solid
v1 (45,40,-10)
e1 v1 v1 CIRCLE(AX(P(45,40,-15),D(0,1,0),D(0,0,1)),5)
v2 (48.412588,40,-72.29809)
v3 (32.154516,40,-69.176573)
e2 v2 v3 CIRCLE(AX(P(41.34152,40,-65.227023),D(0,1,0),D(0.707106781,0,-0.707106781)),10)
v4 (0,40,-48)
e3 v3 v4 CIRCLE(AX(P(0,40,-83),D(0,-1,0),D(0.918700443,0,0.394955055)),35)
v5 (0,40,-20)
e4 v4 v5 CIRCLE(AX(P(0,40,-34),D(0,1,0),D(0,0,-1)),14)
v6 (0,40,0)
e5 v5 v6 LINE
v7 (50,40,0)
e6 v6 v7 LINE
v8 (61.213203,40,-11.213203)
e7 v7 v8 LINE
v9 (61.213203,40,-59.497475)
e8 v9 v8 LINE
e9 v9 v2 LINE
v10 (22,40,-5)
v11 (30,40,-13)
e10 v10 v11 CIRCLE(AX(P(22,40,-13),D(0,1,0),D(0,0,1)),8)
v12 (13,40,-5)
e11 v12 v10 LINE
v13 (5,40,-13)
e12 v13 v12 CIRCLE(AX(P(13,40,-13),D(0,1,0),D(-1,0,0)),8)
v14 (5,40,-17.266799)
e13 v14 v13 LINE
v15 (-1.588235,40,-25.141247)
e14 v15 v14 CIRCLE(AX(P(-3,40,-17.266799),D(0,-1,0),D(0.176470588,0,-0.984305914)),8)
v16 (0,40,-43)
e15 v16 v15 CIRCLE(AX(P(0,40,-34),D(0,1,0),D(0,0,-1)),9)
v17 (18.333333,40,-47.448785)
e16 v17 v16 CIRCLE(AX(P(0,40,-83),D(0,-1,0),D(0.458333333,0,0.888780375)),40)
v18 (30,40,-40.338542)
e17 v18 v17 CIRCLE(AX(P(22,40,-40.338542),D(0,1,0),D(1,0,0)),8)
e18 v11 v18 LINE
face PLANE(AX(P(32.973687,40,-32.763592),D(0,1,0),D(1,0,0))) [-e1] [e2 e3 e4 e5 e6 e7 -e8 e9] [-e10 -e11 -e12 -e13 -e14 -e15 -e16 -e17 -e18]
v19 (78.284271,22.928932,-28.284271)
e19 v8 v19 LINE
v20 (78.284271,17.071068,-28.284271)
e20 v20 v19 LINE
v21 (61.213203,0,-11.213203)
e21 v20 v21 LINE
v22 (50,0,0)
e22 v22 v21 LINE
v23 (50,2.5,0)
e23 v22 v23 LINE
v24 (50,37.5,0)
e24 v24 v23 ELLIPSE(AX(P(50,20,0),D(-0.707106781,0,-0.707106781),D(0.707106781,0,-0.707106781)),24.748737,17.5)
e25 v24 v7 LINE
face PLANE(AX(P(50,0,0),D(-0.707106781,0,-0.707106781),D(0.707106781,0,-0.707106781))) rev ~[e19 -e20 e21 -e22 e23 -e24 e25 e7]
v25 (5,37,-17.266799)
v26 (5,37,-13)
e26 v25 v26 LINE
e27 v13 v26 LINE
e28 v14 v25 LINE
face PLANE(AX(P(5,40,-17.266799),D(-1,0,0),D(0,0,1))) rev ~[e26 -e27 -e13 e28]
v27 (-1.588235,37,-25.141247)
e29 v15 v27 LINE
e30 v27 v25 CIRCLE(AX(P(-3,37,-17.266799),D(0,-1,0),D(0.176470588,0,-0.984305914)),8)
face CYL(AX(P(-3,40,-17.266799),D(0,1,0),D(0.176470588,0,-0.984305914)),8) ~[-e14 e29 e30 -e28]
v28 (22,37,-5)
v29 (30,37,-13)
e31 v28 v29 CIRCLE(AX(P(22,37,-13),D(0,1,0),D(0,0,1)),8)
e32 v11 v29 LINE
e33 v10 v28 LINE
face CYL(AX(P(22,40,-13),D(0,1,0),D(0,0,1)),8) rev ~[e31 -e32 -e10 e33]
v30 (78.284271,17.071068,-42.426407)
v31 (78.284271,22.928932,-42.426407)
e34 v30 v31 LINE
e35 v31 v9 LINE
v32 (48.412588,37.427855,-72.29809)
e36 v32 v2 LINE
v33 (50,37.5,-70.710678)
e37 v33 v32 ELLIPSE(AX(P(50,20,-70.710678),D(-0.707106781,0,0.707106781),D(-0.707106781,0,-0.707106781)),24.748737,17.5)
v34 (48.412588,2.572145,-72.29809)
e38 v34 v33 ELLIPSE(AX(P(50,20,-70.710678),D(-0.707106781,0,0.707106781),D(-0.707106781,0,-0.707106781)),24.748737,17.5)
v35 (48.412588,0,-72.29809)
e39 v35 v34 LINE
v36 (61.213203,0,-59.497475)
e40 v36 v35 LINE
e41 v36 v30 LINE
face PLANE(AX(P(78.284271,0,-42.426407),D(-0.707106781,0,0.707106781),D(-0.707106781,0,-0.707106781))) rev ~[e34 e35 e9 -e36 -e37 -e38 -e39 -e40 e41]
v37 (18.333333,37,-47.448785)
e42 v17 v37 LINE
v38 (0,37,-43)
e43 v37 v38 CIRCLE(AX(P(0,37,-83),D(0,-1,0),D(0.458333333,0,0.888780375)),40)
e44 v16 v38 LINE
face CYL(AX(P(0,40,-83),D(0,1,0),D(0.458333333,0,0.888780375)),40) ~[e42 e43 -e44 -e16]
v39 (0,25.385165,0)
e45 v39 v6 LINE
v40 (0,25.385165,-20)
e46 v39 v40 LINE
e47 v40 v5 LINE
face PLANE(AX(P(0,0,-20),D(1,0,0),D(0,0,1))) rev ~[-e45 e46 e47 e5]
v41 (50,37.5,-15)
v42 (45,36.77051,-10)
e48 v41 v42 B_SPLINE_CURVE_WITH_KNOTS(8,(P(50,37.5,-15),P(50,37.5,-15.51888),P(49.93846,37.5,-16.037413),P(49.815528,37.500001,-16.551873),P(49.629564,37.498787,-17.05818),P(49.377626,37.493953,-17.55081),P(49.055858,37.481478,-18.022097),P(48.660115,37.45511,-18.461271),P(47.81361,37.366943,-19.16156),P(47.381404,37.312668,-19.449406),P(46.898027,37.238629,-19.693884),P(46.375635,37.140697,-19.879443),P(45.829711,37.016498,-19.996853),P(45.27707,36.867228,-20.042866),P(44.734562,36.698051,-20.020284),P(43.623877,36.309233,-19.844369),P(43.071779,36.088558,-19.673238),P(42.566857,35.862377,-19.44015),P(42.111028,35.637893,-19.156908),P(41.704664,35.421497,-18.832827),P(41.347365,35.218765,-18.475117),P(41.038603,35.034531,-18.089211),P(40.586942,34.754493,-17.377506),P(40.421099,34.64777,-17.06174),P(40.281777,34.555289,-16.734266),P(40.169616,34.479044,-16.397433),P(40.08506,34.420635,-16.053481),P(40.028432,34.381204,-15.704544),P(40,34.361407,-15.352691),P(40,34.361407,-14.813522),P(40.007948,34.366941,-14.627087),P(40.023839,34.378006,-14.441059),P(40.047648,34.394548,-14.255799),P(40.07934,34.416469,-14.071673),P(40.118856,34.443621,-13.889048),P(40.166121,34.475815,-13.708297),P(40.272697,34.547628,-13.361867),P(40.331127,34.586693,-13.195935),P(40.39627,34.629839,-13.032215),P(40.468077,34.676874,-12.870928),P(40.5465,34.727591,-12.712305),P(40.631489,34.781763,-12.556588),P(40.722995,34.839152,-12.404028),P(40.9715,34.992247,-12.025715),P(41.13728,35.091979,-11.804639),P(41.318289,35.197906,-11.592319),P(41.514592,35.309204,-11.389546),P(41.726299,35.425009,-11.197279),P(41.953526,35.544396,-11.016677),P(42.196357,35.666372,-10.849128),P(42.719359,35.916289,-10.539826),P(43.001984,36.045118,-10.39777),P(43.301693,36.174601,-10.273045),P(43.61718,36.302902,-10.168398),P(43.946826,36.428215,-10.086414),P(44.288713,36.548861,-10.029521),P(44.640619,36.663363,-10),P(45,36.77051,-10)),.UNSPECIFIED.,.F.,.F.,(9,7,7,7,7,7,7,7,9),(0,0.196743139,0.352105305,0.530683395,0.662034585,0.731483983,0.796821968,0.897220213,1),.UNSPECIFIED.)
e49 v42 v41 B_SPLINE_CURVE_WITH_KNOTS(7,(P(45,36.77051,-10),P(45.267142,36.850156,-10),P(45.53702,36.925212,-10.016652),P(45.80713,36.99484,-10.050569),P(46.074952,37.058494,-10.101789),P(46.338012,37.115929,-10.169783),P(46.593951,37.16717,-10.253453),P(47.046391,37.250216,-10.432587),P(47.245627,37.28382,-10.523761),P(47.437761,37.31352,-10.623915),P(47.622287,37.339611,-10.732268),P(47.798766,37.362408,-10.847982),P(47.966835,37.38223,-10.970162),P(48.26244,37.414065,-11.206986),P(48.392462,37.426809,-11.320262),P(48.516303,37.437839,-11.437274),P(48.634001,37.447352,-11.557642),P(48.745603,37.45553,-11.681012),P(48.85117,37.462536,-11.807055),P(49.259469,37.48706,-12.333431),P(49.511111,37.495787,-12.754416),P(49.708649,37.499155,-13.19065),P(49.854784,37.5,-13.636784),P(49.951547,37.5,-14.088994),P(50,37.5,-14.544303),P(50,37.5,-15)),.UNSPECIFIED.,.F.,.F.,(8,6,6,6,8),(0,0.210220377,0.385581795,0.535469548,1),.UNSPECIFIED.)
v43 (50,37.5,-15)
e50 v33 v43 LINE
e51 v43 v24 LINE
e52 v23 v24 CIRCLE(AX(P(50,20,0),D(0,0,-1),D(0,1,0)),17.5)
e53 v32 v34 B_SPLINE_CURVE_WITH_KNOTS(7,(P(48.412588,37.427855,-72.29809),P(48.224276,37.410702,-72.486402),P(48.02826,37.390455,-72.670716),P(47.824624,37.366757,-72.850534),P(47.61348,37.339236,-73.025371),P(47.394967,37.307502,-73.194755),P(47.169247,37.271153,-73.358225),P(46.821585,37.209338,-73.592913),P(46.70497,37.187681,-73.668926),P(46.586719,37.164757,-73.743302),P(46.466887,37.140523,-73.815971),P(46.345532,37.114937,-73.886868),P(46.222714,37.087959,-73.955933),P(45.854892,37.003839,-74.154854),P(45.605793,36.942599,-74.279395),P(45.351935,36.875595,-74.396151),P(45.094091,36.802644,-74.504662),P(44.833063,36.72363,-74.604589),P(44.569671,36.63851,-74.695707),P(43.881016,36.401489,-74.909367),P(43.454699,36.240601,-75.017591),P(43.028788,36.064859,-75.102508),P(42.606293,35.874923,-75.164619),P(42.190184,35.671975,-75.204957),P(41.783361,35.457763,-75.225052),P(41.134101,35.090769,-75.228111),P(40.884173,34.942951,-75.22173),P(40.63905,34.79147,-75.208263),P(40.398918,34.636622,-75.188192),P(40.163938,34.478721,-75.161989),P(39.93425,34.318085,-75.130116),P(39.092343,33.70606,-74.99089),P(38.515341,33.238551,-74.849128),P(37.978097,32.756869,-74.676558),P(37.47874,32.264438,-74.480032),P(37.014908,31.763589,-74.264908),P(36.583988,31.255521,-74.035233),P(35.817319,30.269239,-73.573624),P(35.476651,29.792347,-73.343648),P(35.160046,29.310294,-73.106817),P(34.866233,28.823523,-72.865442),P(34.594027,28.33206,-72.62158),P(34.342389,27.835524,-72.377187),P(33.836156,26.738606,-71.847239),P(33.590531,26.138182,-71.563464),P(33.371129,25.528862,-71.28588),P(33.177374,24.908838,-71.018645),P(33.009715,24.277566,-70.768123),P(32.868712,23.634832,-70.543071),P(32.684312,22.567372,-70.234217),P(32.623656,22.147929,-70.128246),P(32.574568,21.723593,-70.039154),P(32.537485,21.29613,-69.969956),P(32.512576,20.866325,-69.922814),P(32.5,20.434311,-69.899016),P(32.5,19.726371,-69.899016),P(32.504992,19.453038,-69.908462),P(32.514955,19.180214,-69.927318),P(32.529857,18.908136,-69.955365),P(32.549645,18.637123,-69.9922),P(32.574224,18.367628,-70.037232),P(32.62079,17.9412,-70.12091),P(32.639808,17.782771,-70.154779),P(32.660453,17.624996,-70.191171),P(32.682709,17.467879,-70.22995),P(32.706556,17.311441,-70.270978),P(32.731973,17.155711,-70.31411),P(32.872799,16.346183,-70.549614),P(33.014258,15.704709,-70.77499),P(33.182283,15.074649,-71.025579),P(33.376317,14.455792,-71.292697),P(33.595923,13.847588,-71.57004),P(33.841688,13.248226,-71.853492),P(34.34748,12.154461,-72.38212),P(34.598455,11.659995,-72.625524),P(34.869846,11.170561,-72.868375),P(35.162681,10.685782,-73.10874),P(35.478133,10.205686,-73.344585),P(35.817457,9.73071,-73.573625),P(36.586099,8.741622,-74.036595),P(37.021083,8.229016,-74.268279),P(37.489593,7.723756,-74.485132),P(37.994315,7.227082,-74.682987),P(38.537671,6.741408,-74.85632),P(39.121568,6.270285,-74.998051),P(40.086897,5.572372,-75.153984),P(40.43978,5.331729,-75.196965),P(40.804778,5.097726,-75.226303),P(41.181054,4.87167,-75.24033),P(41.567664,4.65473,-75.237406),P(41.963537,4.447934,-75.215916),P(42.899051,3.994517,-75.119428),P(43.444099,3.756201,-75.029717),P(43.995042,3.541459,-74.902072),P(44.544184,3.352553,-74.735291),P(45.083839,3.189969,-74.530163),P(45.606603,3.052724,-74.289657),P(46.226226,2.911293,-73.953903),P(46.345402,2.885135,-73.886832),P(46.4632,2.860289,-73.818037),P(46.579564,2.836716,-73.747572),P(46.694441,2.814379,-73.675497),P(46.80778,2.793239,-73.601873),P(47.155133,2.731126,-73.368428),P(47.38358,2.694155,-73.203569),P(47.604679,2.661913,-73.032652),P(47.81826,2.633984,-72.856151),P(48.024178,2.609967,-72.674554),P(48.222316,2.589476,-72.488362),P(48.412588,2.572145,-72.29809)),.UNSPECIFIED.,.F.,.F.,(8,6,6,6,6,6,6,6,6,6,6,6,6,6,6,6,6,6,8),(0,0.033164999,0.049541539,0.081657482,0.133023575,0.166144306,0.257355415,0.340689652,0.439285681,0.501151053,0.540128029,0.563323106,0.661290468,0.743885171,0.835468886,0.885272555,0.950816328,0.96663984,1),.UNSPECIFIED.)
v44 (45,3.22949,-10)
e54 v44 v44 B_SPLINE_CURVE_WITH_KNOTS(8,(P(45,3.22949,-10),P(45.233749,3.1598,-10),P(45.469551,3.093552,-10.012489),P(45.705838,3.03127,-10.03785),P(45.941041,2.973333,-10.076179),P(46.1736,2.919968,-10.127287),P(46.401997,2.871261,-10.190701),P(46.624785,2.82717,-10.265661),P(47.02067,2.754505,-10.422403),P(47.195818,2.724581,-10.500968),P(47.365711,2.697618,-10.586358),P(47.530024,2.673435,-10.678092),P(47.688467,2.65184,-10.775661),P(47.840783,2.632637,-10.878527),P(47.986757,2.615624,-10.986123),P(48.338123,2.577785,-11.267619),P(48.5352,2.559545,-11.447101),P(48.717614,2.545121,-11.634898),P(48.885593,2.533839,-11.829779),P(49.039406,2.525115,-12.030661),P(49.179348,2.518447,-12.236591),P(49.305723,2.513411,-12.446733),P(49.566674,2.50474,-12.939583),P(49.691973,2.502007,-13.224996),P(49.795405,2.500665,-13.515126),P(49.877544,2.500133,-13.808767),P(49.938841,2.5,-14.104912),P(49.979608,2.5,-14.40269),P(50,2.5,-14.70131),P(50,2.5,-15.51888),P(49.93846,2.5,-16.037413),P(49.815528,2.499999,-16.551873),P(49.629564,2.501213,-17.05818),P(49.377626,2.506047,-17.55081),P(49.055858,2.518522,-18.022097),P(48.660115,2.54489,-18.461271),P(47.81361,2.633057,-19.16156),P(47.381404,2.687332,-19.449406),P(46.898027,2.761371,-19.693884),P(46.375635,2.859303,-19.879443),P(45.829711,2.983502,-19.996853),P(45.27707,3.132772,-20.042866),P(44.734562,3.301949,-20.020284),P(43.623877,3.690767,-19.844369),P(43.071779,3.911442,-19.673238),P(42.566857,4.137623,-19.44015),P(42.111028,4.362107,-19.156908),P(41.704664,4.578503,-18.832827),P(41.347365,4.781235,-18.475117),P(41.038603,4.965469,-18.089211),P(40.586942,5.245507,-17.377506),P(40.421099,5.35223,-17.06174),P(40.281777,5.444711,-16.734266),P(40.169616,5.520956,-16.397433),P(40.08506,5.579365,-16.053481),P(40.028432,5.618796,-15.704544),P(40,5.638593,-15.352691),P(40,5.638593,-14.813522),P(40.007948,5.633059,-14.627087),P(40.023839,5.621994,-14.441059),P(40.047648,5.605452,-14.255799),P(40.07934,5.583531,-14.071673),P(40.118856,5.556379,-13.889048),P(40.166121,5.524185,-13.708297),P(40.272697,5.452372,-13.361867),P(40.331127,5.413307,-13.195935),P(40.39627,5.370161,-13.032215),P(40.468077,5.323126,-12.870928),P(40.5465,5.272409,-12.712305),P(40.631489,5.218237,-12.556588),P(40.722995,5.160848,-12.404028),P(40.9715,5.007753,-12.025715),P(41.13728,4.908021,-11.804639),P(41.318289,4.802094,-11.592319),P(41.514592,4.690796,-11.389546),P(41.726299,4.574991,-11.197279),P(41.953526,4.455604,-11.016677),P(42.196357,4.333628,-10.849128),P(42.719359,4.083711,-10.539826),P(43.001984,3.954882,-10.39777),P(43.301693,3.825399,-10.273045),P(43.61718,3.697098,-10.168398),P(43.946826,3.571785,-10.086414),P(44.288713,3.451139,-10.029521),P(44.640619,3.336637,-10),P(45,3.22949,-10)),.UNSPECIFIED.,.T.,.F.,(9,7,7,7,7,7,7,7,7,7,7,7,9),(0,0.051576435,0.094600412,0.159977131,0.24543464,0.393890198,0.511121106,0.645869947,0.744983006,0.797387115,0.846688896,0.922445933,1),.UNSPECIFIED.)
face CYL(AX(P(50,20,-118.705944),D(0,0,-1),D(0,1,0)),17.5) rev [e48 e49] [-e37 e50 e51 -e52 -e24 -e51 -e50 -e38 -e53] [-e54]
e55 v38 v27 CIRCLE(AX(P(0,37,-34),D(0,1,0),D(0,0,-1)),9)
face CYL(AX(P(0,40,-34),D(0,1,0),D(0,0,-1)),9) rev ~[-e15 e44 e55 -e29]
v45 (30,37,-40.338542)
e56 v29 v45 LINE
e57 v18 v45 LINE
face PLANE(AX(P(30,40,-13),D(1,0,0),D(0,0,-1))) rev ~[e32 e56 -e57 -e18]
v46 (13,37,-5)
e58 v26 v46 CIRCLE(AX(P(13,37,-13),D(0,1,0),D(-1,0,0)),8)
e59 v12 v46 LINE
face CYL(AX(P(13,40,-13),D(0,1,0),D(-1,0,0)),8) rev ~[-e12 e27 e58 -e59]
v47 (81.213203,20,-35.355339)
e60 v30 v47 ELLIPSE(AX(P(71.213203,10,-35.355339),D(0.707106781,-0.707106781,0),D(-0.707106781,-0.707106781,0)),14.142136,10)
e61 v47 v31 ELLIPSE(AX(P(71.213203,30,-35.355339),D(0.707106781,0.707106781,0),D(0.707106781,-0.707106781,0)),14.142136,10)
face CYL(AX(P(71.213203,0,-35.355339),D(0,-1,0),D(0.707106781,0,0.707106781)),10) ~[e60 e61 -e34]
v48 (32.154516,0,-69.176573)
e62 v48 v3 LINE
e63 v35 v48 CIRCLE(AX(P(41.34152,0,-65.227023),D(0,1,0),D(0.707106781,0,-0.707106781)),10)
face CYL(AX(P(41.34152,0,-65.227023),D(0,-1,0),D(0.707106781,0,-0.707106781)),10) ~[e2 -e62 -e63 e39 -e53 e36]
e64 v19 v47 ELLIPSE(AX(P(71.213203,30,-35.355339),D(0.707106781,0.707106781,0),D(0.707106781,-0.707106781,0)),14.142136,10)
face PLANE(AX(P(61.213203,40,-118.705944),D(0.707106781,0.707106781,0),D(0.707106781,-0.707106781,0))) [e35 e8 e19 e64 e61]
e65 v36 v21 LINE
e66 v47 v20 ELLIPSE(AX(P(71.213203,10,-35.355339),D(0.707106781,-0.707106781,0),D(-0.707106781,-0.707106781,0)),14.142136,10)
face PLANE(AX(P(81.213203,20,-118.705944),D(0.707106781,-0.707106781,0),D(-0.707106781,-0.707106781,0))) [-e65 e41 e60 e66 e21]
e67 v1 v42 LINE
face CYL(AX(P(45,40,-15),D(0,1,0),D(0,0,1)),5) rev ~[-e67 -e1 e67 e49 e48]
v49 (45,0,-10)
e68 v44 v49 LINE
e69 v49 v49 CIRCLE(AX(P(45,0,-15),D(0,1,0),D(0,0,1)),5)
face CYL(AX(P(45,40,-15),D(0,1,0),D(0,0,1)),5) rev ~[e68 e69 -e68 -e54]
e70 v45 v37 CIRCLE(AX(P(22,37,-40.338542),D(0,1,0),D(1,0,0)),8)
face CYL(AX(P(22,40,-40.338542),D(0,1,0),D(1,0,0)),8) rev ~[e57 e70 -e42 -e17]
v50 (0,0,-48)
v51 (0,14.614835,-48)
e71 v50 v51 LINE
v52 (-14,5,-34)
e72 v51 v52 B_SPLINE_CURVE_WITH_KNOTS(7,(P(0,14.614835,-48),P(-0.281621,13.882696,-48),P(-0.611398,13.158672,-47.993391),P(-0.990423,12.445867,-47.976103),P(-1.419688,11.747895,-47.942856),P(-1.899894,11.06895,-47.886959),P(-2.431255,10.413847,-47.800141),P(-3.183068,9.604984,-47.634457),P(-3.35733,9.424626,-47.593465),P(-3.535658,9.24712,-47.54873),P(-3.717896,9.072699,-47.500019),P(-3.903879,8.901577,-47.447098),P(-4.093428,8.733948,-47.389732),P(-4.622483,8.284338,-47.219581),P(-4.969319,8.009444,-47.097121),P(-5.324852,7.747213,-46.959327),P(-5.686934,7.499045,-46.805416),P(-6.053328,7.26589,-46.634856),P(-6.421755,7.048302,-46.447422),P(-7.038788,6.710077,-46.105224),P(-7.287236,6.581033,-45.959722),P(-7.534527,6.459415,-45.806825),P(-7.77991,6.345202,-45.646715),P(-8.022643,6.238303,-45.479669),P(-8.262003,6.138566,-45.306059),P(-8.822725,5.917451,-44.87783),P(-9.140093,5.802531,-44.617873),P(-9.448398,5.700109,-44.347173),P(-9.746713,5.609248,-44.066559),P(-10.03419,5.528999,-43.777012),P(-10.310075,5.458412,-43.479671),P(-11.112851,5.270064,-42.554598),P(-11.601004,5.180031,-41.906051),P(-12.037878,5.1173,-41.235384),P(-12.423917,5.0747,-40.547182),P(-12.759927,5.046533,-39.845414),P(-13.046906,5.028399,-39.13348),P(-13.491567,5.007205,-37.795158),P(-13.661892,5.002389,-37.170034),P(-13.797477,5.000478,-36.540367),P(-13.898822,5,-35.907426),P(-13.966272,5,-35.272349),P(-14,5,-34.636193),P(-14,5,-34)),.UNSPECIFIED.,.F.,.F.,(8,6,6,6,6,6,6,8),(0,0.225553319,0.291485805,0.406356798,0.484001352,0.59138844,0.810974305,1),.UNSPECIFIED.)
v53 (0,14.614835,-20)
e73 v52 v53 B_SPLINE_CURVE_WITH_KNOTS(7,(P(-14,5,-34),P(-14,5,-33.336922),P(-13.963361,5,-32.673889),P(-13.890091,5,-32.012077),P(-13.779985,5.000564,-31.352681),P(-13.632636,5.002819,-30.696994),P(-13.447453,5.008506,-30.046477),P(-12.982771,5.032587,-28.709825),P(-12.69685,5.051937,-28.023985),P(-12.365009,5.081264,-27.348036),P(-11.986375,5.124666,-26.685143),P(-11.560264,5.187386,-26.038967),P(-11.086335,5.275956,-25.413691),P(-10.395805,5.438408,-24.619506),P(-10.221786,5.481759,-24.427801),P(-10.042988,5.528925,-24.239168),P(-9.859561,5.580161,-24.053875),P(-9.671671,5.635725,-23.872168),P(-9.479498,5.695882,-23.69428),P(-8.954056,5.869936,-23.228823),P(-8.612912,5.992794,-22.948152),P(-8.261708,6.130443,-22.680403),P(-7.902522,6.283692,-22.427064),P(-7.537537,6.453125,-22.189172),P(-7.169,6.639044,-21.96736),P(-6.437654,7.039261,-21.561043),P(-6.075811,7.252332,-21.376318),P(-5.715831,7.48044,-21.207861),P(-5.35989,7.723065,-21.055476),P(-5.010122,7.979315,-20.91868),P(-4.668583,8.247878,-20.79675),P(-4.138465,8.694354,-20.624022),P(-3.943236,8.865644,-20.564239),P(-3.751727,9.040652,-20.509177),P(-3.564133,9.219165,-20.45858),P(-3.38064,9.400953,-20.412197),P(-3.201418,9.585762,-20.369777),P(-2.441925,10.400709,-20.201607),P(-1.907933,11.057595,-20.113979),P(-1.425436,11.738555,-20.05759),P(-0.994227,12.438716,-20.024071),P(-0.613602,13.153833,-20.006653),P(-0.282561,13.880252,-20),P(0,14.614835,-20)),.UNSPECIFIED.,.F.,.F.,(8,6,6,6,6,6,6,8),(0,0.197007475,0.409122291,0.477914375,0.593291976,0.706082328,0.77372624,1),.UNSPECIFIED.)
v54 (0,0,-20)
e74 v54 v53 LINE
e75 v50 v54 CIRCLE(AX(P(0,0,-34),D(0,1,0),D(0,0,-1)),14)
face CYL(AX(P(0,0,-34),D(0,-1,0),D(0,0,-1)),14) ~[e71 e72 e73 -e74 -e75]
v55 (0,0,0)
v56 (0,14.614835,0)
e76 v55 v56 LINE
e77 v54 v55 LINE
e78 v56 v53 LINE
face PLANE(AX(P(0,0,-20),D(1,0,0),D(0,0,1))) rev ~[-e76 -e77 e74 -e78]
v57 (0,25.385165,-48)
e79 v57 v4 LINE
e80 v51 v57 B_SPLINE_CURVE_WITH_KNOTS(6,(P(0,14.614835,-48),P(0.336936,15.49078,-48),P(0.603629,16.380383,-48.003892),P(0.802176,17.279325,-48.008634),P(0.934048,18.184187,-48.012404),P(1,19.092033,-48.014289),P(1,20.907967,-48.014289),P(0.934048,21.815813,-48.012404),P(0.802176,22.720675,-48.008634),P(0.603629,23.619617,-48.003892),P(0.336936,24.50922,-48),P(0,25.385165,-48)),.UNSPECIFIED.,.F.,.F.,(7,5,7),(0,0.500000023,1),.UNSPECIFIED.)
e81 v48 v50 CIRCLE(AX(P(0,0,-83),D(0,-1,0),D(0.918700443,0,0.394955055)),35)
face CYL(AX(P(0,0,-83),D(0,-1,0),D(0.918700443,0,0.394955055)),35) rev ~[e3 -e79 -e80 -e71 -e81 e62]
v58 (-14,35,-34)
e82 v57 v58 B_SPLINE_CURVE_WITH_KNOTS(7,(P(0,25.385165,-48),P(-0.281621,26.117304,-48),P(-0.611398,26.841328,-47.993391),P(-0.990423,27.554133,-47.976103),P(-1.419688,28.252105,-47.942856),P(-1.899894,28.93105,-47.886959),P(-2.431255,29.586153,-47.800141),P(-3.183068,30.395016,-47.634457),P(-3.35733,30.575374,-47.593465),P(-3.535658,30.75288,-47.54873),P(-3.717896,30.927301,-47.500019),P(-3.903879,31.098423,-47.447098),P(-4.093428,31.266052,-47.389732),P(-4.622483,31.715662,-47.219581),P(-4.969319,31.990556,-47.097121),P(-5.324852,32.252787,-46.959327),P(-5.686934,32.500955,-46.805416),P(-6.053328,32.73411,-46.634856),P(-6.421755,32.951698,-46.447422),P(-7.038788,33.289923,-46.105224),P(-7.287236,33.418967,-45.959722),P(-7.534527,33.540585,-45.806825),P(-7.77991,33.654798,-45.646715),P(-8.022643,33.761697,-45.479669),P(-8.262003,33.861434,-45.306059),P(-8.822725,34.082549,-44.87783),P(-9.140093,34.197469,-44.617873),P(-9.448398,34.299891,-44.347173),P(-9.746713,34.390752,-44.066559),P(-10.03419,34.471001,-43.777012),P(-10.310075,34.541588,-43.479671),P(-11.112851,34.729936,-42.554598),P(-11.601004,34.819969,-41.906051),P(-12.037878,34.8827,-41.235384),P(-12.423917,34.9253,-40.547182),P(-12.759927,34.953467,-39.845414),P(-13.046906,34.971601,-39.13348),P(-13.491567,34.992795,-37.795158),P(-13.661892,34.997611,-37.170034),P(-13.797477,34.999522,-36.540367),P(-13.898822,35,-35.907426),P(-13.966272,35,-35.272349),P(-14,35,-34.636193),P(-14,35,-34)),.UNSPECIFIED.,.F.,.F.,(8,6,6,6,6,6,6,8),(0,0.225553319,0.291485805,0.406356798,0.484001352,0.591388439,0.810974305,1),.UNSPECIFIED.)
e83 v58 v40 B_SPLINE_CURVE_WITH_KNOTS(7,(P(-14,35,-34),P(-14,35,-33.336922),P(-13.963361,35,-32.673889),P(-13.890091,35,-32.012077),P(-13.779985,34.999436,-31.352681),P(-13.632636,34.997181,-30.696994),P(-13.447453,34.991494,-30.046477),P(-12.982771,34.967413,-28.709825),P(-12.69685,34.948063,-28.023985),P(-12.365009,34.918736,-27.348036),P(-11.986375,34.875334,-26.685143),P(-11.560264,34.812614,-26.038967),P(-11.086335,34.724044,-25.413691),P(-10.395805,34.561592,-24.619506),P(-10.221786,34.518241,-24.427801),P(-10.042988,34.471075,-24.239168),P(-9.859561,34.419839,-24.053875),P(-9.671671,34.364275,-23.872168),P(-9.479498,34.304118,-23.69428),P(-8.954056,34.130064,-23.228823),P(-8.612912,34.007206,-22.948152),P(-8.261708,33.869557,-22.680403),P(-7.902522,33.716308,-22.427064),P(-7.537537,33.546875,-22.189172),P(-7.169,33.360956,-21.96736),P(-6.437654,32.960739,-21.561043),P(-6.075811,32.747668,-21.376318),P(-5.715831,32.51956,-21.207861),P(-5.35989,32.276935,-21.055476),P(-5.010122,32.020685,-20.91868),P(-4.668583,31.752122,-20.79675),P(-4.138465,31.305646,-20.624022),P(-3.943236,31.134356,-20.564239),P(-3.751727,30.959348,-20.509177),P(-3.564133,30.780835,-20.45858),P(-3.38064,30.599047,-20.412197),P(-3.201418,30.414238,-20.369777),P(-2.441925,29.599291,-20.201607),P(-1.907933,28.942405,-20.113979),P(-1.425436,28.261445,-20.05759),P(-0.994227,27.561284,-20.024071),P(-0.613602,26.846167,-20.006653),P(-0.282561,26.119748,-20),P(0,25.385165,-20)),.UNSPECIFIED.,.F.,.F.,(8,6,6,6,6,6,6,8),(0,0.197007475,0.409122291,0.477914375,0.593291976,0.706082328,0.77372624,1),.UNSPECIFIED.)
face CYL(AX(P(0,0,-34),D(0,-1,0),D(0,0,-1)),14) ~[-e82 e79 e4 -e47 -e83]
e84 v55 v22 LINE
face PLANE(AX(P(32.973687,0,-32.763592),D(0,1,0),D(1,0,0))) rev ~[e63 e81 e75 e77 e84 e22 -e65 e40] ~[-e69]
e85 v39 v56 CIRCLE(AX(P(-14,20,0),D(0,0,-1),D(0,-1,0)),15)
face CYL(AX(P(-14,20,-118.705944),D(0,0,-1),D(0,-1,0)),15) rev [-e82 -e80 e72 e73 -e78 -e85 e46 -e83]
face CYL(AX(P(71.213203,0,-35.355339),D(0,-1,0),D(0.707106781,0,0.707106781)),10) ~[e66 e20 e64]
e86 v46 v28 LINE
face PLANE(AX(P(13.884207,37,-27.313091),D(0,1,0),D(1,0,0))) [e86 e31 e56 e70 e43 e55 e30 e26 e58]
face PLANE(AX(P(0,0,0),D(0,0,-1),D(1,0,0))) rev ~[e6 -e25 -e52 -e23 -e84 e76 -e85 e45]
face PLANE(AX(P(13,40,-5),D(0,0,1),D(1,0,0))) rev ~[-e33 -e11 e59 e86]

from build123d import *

# Parameters (mm, degrees)
BOSS_EXTRUDE1_DEPTH     = 40
CUT_EXTRUDE1_DEPTH      = 3
CUT_EXTRUDE2_DEPTH      = 118.705944338
CUT_EXTRUDE2_DEPTH_BACK = 118.705944338
SKETCH3_R               = 17.5
SKETCH4_R               = 5
CUT_EXTRUDE4_DEPTH      = 118.705944436
CUT_EXTRUDE6_DEPTH      = 118.705944436
CUT_EXTRUDE6_DEPTH_BACK = 118.705944436


with BuildPart() as part:
    # Sketch1 → Boss-Extrude1 (new body)
    with BuildSketch(Plane(origin=(0, 0, 0), x_dir=(1, 0, 0), z_dir=(0, 1, 0))):
        with BuildLine():
            Line((0, 0), (50, 0))
            Line((50, 0), (78.284271247, 28.284271247))
            ThreePointArc((78.284271247, 28.284271247), (81.213203436, 35.355339059), (78.284271247, 42.426406871))
            Line((78.284271247, 42.426406871), (48.412587767, 72.298090352))
            ThreePointArc((48.412587767, 72.298090352), (39.455979063, 75.047650602), (32.154515521, 69.176573087))
            ThreePointArc((32.154515521, 69.176573087), (19.250715026, 53.76970799), (0, 48))
            ThreePointArc((0, 48), (-14, 34), (0, 20))
            Line((0, 20), (0, 0))
        make_face()
    extrude(amount=BOSS_EXTRUDE1_DEPTH)

    # Sketch2 → Cut-Extrude1 (cut)
    with BuildSketch(Plane(origin=(0, 40, 0), x_dir=(1, 0, 0), z_dir=(0, 1, 0))):
        with BuildLine():
            Line((30, 13), (30, 40.338541985))
            ThreePointArc((30, 40.338541985), (26.163331999, 47.169842495), (18.333333333, 47.448784987))
            ThreePointArc((18.333333333, 47.448784987), (9.432693133, 44.128103979), (0, 43))
            ThreePointArc((0, 43), (-8.964618759, 34.797251843), (-1.588235294, 25.141246778))
            ThreePointArc((-1.588235294, 25.141246778), (3.135719911, 22.400311053), (5, 17.266799469))
            Line((5, 17.266799469), (5, 13))
            ThreePointArc((5, 13), (7.343145751, 7.343145751), (13, 5))
            Line((13, 5), (22, 5))
            ThreePointArc((22, 5), (27.656854249, 7.343145751), (30, 13))
        make_face()
    extrude(amount=-CUT_EXTRUDE1_DEPTH, mode=Mode.SUBTRACT)

    # Sketch3 → Cut-Extrude2 (cut, two sides: drawn at the far end of the back side and taken through both)
    with BuildSketch(Plane.XY.offset(-CUT_EXTRUDE2_DEPTH_BACK)):
        with Locations(Location((50, 20, 0), (0, 0, 90))):
            Circle(SKETCH3_R)
        with BuildLine():
            Line((-14, 35), (-14, 5))
            ThreePointArc((-14, 5), (1, 20), (-14, 35))
        make_face()
    extrude(amount=CUT_EXTRUDE2_DEPTH + CUT_EXTRUDE2_DEPTH_BACK, mode=Mode.SUBTRACT)

    # Sketch4 → Cut-Extrude4 (cut, through all)
    with BuildSketch(Plane(origin=(0, 40, 0), x_dir=(1, 0, 0), z_dir=(0, 1, 0))):
        with Locations(Location((45, 15, 0), (0, 0, 270))):
            Circle(SKETCH4_R)
    extrude(amount=-CUT_EXTRUDE4_DEPTH, mode=Mode.SUBTRACT)

    # Sketch7 → Cut-Extrude6 (cut, two sides: drawn at the far end of the back side and taken through both)
    with BuildSketch(Plane.XY.offset(-CUT_EXTRUDE6_DEPTH_BACK)):
        Polygon((-66.33214374, 167.545347175), (61.213203436, 40), (81.213203436, 20), (61.213203436, 0), (-66.33214374, -127.545347175), (294.420575846, -127.545347175), (294.420575846, 167.545347175), align=None)
    extrude(amount=CUT_EXTRUDE6_DEPTH + CUT_EXTRUDE6_DEPTH_BACK, mode=Mode.SUBTRACT)


solid = part.part
